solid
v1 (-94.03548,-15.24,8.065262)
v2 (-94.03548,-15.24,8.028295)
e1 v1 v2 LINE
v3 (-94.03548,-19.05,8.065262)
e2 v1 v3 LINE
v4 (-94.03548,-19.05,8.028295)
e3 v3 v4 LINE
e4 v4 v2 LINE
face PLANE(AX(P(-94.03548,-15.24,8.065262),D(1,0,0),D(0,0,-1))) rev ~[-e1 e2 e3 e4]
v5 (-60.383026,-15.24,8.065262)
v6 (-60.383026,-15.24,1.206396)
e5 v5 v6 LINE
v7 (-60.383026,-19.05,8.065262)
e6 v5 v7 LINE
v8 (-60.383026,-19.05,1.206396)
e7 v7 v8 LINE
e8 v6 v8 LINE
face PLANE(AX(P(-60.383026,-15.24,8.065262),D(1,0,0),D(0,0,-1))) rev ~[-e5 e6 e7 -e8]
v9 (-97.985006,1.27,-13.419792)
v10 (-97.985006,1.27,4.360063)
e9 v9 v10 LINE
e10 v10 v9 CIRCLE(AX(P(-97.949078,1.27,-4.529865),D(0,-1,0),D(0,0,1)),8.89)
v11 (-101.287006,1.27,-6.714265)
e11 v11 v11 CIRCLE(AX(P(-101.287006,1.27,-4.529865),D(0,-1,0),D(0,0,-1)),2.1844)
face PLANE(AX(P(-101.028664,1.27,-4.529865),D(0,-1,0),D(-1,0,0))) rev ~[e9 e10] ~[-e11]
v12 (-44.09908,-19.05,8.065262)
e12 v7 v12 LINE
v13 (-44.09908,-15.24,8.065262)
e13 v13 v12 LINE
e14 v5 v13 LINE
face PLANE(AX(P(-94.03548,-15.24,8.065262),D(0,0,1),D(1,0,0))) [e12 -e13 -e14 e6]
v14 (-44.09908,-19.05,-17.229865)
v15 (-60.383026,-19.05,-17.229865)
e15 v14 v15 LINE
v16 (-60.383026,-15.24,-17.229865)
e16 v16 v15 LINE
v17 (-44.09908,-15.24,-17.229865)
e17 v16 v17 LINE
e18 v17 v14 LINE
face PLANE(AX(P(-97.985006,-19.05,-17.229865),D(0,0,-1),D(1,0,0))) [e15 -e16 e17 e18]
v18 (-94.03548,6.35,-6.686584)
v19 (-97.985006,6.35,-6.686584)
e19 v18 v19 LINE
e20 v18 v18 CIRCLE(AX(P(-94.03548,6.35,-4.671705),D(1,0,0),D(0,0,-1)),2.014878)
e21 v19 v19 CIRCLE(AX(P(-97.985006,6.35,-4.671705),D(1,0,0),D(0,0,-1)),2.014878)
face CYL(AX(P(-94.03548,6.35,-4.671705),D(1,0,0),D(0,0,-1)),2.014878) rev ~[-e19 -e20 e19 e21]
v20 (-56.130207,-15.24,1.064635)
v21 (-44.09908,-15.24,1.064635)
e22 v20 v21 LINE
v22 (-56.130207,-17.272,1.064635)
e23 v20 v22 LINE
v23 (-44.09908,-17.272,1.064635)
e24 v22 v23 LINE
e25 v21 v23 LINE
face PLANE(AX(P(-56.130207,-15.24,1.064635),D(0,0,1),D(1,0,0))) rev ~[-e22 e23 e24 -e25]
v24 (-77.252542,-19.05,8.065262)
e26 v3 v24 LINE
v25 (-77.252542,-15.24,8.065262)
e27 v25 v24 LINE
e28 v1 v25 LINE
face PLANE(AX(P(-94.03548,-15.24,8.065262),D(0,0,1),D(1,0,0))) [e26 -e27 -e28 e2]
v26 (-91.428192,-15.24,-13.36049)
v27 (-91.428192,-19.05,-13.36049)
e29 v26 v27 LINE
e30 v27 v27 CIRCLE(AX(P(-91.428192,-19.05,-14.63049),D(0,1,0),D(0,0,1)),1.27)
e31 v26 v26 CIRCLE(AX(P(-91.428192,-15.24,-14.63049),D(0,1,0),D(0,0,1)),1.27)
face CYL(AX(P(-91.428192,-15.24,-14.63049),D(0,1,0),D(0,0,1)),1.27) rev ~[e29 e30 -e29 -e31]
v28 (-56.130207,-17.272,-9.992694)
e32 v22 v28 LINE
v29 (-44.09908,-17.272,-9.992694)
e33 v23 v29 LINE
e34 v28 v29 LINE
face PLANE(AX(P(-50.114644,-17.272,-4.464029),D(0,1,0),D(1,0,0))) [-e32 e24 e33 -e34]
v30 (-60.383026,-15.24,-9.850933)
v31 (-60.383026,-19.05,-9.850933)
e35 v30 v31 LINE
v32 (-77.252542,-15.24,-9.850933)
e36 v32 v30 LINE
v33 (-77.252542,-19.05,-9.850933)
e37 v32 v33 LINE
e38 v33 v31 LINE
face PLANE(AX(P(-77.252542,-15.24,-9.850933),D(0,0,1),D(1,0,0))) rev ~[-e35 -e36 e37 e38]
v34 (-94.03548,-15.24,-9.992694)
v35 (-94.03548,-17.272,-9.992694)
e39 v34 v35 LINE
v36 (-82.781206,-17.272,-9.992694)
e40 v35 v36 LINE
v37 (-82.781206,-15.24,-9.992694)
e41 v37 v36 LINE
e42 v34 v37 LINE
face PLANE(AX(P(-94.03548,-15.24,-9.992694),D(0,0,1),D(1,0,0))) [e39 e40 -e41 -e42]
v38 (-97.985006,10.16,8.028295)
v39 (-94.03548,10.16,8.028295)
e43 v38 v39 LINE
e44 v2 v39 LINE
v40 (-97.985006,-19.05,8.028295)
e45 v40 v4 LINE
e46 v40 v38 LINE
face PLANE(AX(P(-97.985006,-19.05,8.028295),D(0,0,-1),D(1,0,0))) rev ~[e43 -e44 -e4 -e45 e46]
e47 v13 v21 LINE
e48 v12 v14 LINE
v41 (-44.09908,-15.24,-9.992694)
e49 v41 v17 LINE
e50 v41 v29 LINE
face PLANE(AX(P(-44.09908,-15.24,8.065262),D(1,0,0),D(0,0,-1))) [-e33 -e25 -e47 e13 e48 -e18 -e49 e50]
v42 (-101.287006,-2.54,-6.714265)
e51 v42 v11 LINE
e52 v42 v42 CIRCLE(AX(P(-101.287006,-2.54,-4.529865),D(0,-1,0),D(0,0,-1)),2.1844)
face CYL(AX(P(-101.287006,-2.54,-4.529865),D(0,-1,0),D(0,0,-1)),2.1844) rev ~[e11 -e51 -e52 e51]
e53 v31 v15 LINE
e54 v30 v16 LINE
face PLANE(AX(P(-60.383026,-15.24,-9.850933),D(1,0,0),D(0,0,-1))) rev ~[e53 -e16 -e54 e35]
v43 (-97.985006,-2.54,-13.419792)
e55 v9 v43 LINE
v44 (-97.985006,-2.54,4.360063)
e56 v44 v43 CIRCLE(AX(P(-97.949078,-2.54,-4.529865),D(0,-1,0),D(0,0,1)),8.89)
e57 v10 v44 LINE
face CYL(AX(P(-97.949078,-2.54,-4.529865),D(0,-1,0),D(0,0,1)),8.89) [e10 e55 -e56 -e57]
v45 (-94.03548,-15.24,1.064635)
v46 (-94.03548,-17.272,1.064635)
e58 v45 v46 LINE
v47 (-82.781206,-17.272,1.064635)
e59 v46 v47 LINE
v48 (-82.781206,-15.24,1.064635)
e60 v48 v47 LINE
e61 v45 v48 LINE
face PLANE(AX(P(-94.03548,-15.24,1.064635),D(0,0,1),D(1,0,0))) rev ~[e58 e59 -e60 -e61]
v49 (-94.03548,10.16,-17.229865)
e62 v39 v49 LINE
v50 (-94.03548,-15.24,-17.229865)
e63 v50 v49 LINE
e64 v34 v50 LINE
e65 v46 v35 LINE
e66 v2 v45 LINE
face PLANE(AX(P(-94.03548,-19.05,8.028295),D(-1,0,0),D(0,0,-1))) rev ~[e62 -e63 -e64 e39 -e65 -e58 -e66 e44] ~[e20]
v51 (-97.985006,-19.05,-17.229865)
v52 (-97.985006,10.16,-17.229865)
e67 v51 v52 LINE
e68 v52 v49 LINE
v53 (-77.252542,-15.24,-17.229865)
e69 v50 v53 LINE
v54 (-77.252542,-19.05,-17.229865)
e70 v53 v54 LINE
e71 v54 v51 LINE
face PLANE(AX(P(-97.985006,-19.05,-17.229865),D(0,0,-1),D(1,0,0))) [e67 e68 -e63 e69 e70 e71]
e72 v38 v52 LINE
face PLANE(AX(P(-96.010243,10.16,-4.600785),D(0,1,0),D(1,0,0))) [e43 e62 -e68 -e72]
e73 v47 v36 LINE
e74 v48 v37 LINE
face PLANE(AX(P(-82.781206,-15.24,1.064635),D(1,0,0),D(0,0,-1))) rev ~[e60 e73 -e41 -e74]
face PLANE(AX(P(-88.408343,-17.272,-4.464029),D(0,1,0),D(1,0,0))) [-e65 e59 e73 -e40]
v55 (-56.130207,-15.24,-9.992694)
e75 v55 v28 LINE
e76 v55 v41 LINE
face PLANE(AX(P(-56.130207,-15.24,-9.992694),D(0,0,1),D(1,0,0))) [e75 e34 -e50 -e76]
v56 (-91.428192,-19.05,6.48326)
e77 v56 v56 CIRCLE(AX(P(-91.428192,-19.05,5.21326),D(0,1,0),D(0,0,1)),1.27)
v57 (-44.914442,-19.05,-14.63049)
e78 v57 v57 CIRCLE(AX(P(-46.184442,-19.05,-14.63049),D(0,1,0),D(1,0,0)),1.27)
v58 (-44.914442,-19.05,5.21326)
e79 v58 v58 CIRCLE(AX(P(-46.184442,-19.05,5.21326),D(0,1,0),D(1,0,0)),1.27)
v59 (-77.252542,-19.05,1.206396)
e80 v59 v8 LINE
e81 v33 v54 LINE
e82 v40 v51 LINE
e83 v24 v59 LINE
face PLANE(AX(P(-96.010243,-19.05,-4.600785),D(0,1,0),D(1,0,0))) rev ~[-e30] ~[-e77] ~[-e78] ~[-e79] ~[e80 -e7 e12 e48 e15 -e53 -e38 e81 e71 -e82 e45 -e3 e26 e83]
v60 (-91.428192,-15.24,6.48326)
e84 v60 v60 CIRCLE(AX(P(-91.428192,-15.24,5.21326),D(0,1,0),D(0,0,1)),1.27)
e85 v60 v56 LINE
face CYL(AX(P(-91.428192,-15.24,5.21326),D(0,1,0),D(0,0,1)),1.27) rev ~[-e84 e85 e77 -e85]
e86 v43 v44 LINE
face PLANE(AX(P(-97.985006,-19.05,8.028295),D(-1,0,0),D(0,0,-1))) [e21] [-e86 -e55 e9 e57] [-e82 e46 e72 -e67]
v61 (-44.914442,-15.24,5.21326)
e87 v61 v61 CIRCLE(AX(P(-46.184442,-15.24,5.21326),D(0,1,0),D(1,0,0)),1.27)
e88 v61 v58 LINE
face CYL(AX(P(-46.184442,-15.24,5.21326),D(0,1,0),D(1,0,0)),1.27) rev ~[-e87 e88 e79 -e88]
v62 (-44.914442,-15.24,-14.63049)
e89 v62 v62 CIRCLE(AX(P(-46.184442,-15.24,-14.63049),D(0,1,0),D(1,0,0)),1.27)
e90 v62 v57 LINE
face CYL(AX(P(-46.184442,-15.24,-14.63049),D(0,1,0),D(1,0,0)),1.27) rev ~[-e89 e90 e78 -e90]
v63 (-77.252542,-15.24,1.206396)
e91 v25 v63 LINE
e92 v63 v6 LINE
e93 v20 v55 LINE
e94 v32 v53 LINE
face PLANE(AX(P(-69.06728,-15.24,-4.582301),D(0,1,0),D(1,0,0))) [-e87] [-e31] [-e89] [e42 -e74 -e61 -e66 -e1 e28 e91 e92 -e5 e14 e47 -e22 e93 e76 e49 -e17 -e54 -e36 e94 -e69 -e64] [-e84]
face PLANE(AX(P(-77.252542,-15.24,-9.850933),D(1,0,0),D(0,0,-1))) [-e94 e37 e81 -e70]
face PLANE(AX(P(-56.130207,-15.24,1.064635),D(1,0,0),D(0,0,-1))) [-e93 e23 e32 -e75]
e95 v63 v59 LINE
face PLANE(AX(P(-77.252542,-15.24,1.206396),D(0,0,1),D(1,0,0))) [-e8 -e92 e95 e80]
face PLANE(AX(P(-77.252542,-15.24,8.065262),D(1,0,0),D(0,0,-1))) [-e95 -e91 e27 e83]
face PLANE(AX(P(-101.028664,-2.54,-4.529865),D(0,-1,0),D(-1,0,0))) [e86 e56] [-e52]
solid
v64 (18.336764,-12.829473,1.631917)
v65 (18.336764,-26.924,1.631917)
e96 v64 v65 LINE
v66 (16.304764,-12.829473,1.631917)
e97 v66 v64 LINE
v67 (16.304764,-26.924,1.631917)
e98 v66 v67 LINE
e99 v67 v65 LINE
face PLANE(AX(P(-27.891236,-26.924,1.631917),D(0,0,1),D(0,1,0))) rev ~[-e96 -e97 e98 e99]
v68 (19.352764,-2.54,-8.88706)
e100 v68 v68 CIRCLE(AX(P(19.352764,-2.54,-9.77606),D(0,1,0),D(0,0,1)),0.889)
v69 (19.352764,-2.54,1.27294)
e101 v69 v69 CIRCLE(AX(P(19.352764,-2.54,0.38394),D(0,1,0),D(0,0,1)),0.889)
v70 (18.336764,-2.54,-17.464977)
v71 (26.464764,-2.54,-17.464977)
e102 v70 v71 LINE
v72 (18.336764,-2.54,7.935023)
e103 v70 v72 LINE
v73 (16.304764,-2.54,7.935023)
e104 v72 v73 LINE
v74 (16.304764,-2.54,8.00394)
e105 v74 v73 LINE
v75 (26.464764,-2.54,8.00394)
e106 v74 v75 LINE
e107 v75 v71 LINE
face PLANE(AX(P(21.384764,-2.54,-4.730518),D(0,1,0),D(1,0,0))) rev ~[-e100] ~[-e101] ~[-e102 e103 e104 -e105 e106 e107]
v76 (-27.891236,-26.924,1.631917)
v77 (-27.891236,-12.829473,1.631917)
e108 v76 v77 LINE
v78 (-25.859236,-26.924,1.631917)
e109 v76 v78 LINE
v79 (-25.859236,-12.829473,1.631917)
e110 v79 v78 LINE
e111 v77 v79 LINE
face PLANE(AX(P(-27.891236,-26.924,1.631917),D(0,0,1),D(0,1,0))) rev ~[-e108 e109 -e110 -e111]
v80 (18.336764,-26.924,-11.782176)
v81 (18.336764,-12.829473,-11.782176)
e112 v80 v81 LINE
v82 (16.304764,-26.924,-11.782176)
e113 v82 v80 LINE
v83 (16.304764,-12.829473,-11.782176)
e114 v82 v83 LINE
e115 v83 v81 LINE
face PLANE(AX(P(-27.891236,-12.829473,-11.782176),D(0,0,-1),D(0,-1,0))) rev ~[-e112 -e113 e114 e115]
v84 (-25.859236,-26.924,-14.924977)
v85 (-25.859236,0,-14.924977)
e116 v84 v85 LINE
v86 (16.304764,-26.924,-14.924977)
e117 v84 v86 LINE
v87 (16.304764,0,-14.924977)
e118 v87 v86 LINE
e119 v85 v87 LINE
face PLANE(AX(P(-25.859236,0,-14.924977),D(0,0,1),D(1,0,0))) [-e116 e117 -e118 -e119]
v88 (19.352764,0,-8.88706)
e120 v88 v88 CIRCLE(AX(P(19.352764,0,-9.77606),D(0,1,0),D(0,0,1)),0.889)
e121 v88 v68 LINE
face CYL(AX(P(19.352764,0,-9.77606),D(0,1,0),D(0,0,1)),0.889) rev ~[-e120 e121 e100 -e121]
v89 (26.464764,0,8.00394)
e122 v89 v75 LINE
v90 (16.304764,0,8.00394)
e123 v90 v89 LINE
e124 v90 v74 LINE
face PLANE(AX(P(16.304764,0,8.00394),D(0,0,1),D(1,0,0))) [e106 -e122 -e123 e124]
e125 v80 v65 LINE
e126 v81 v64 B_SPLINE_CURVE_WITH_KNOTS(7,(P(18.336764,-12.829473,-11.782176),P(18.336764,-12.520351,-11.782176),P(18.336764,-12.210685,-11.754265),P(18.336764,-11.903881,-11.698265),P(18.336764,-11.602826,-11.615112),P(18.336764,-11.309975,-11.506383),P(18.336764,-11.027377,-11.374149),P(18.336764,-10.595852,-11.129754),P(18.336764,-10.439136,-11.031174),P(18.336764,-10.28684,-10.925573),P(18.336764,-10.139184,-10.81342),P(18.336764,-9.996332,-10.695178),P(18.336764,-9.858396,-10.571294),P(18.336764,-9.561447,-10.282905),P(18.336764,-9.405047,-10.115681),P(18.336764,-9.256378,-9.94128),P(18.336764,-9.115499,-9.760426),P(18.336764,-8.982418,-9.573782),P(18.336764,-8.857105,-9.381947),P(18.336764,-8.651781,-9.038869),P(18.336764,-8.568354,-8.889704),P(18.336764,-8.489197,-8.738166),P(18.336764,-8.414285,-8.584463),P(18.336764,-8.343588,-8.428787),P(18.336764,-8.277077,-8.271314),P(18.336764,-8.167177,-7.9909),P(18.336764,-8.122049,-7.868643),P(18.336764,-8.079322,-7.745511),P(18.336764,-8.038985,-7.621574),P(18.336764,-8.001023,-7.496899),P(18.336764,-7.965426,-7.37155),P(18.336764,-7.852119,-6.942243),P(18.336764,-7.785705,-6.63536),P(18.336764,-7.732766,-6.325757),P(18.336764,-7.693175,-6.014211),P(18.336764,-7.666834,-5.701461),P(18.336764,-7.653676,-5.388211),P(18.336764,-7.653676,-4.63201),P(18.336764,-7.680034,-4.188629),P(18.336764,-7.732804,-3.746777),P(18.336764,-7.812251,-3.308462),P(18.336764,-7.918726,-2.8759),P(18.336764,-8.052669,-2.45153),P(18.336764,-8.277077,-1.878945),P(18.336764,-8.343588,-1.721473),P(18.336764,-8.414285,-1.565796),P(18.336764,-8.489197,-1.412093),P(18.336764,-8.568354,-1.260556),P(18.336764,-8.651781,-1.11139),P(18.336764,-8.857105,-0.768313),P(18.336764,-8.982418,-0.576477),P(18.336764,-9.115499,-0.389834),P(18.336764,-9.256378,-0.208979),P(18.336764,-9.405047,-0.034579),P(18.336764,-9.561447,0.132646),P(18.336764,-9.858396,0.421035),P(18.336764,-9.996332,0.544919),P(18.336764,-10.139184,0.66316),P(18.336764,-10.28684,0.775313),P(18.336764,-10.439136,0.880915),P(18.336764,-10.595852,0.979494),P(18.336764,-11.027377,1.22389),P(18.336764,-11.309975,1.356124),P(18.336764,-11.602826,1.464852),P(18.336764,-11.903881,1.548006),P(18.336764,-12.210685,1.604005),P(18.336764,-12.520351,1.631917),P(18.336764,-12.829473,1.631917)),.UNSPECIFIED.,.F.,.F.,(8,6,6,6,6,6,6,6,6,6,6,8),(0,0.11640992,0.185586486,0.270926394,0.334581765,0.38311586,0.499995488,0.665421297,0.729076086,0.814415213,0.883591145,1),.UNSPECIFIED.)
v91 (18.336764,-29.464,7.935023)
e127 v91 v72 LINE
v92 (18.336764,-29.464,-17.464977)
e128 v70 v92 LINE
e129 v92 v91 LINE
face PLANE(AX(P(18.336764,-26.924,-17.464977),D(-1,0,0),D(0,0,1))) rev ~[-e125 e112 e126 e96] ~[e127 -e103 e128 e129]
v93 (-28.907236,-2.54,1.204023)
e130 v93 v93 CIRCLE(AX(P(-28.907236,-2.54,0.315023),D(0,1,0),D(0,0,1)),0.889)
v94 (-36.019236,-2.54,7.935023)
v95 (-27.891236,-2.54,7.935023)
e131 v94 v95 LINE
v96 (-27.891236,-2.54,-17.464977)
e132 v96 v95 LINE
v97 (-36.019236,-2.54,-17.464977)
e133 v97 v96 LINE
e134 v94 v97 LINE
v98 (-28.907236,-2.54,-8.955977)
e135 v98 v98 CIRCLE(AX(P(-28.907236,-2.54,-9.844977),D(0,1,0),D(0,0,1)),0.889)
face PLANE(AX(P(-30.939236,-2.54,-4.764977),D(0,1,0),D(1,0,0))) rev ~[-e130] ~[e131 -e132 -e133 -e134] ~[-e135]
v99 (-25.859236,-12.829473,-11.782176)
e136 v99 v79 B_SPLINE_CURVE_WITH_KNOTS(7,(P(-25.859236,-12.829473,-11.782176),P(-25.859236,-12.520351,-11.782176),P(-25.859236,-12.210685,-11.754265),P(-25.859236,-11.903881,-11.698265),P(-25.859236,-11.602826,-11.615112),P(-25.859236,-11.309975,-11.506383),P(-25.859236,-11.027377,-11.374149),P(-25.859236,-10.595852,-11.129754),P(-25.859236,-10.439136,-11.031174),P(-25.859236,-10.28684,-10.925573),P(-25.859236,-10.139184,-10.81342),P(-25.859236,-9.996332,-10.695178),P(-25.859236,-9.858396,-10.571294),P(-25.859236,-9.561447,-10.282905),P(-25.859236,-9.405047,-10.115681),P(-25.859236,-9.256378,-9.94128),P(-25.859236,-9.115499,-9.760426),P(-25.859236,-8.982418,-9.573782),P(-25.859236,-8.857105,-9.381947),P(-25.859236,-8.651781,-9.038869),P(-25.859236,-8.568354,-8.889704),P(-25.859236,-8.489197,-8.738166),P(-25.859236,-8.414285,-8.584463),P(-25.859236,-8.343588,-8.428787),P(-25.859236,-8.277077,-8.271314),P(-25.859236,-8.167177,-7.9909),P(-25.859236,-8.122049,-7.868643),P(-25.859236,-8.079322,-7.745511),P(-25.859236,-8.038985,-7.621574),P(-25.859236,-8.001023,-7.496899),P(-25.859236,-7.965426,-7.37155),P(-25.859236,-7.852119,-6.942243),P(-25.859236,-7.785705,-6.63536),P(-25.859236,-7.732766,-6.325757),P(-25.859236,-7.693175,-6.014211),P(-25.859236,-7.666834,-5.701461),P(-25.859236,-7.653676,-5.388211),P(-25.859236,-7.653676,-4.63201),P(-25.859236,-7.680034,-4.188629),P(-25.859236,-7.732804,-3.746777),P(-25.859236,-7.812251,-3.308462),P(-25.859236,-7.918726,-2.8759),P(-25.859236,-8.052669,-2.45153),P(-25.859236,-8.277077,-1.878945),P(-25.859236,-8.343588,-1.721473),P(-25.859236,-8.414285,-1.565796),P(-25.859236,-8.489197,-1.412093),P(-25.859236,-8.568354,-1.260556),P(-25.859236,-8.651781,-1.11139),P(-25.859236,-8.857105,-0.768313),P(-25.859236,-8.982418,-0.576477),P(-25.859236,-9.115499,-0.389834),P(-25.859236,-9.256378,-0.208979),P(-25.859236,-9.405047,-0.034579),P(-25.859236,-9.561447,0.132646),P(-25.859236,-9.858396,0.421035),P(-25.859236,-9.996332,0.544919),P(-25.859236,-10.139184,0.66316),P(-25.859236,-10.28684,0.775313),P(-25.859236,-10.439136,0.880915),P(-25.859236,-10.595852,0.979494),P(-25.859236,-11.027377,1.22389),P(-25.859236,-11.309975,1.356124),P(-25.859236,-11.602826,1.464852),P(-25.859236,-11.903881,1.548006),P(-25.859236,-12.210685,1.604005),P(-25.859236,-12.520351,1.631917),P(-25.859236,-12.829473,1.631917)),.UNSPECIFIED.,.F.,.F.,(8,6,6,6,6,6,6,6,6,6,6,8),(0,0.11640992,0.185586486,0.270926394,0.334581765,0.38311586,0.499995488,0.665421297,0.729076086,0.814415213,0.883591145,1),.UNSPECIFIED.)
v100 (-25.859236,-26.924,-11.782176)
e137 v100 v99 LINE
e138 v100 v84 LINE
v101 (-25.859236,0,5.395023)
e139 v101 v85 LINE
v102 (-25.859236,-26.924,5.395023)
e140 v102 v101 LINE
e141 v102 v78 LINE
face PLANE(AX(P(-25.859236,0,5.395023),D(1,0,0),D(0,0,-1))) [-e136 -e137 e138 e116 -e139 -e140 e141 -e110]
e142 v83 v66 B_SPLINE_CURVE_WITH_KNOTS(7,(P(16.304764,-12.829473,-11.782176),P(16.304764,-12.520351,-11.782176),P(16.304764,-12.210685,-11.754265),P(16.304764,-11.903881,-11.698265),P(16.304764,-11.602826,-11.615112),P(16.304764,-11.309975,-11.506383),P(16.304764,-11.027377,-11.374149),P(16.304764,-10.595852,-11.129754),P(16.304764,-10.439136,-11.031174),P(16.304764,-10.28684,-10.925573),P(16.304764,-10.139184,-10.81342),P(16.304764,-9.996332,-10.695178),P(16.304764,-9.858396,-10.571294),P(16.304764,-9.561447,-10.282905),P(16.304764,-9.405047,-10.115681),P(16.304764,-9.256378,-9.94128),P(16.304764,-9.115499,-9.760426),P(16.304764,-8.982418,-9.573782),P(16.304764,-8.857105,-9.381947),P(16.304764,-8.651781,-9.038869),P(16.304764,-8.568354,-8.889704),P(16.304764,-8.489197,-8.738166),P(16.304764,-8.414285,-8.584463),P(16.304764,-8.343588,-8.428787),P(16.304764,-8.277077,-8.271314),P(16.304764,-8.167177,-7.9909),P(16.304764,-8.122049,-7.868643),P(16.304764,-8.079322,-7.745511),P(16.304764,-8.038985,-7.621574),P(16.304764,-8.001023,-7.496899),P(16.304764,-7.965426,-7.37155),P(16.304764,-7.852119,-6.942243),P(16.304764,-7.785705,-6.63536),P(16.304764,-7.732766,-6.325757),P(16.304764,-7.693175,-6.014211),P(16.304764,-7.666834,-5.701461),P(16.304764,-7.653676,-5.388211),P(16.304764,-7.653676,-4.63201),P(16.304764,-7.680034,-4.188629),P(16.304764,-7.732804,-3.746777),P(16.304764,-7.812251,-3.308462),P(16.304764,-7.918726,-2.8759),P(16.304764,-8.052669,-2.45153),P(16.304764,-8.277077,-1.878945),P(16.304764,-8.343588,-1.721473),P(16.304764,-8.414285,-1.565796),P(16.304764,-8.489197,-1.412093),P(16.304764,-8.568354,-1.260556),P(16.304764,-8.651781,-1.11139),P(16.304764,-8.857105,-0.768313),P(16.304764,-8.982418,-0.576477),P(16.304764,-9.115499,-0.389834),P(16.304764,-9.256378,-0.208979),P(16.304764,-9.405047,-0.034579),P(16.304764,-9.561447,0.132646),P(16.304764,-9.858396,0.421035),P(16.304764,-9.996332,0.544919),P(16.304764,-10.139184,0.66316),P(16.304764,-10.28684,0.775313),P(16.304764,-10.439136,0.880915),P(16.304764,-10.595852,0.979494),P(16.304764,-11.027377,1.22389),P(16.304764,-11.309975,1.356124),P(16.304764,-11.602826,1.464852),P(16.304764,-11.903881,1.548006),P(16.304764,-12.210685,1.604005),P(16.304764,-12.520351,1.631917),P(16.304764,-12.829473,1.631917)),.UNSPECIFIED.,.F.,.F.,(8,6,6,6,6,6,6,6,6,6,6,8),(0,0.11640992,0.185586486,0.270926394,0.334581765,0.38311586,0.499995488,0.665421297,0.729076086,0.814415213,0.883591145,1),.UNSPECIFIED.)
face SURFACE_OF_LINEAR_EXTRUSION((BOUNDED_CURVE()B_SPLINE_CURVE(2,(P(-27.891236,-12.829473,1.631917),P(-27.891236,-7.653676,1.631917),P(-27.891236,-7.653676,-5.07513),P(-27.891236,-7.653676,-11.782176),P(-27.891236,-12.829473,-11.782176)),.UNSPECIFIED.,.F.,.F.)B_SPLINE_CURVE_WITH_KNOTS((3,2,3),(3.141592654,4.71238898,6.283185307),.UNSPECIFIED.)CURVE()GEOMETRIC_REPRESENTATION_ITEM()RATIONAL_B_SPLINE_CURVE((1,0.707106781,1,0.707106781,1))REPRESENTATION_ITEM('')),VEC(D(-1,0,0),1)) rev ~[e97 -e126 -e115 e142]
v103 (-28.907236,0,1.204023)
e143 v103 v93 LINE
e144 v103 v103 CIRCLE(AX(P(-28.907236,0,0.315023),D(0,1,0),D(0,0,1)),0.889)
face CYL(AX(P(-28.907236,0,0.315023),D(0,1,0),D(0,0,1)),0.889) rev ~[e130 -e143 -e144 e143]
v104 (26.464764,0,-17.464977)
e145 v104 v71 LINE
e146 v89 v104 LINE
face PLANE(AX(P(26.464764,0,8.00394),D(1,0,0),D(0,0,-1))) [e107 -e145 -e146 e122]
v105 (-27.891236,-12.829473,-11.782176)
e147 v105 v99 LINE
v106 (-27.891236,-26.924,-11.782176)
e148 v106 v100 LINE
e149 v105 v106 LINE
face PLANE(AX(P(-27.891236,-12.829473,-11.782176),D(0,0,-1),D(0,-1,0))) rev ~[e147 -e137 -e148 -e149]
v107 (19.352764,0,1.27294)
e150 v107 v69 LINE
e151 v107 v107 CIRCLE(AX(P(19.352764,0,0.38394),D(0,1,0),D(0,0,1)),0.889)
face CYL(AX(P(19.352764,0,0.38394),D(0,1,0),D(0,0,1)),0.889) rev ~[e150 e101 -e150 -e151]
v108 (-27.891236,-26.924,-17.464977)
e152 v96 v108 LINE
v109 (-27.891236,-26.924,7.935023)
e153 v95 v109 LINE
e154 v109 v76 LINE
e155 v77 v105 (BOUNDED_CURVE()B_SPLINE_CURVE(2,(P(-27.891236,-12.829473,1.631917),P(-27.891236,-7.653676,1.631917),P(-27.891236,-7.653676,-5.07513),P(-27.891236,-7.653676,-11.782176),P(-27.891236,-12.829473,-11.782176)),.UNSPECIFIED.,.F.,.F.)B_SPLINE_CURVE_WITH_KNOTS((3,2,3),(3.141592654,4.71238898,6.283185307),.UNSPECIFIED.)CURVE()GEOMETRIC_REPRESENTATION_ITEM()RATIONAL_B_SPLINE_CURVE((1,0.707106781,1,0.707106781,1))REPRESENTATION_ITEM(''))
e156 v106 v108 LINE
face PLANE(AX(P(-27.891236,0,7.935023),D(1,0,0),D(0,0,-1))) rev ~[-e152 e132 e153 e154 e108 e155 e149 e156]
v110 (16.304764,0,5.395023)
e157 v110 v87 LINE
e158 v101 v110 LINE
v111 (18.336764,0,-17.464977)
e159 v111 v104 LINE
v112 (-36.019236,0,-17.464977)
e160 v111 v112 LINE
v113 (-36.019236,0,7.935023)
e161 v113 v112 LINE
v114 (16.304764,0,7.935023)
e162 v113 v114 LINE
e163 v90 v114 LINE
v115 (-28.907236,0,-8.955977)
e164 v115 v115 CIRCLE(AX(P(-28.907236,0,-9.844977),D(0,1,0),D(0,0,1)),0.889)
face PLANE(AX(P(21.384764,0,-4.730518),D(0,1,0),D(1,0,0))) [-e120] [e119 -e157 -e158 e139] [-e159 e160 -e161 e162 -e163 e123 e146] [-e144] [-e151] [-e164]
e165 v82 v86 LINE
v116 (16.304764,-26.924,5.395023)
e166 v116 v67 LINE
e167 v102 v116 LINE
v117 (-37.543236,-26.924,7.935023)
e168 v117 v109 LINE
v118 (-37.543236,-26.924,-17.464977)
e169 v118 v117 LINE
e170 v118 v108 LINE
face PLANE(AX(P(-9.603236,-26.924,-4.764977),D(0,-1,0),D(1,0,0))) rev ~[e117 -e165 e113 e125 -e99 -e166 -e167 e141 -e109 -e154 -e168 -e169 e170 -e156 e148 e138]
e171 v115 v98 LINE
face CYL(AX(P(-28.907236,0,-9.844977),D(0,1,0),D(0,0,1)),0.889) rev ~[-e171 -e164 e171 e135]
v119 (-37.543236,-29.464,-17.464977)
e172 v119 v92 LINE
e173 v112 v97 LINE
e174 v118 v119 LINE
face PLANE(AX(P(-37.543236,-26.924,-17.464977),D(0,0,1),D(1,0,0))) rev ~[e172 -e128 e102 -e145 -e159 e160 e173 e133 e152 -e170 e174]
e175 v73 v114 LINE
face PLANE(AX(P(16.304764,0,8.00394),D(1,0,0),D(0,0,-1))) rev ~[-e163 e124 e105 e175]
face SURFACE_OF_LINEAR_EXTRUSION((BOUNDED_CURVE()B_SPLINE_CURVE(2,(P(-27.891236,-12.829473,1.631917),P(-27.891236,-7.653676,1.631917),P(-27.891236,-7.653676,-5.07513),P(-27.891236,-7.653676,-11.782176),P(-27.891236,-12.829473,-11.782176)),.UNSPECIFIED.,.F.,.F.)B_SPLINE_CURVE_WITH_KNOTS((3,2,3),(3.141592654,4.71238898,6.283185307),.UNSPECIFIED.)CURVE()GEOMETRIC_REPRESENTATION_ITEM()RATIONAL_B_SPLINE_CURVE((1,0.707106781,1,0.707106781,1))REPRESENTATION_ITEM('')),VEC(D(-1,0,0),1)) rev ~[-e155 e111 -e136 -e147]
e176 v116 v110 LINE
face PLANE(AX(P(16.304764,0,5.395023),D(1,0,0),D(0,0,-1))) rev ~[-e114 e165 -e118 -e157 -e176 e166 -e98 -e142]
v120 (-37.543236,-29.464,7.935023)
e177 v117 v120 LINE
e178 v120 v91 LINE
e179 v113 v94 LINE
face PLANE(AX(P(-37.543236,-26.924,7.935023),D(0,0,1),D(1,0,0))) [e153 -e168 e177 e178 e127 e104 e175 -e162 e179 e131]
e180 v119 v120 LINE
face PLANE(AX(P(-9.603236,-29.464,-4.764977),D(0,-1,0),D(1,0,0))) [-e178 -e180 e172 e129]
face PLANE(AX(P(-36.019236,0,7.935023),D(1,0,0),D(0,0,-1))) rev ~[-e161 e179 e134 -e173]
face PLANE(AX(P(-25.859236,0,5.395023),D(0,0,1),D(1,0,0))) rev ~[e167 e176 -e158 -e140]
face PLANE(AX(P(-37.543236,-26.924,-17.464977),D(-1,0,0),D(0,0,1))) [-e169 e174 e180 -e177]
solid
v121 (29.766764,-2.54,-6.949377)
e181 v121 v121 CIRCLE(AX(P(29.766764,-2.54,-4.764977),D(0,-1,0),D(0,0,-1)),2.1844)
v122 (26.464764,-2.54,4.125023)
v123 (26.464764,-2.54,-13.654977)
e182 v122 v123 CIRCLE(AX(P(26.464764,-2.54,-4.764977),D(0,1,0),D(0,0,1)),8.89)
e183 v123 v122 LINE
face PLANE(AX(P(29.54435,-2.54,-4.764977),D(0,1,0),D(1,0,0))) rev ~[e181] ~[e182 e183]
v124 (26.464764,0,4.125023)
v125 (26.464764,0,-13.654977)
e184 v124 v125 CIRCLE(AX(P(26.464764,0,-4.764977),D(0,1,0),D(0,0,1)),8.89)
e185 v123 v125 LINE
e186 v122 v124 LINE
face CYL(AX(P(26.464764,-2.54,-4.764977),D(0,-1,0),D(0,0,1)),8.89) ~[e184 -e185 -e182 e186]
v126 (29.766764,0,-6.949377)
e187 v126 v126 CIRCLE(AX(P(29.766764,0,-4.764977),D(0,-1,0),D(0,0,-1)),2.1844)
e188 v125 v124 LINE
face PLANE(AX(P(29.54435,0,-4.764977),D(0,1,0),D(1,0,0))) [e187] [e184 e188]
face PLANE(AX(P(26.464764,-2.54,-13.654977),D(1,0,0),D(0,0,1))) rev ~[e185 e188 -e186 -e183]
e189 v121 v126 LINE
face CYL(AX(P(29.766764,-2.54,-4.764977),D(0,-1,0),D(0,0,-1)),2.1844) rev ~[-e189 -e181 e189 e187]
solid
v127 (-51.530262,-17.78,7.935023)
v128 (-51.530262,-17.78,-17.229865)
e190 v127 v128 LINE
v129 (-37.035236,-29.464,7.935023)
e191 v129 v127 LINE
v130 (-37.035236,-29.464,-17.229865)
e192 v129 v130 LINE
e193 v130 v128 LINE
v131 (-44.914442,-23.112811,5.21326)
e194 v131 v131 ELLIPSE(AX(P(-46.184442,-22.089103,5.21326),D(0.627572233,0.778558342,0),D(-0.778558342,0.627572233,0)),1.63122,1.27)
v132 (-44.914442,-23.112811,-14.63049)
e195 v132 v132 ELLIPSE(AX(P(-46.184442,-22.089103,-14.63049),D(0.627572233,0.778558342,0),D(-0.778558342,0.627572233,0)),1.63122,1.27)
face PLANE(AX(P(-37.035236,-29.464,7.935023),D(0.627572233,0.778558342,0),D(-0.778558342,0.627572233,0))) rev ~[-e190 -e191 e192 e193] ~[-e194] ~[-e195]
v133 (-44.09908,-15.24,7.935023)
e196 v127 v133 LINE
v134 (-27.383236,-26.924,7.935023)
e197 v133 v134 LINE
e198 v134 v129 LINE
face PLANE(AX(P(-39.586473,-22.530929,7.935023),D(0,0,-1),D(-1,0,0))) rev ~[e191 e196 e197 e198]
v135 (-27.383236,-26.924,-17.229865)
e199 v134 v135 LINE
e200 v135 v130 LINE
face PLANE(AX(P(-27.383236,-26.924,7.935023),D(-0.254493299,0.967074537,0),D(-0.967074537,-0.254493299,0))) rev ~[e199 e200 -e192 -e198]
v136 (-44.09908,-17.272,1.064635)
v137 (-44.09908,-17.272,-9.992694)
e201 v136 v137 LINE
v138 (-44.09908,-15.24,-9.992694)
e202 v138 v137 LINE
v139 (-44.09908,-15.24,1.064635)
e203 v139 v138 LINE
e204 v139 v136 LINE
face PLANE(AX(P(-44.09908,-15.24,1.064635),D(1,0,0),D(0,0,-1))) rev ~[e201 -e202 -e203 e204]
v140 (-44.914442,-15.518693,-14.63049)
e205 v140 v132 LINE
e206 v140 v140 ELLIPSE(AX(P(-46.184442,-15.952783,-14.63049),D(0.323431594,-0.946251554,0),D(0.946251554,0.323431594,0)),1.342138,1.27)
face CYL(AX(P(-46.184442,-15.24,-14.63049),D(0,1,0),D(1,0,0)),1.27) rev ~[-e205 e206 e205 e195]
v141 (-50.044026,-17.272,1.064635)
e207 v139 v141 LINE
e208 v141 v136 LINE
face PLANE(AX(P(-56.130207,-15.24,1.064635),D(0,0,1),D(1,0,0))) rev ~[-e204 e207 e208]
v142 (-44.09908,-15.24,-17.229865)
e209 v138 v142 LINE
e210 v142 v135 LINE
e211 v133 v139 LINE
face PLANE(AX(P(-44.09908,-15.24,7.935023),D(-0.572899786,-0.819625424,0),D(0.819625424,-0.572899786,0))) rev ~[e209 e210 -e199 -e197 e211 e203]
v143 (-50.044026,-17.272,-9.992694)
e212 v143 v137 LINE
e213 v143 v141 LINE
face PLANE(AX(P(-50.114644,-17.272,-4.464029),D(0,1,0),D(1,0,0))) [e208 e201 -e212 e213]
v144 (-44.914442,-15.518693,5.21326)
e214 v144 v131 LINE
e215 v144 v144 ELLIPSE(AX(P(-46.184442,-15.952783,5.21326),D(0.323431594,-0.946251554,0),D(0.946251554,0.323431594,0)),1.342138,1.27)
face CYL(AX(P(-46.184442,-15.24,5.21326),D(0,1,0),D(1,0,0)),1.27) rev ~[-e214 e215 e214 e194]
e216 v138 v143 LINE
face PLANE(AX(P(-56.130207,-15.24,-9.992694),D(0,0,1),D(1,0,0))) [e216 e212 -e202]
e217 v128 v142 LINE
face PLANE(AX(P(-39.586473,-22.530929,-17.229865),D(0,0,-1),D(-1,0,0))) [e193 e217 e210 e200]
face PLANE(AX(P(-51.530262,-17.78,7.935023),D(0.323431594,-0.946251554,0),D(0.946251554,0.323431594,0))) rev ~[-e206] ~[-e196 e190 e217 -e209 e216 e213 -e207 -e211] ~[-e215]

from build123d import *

# Parameters (mm, degrees)
SKETCH2_W                = 46.228
SKETCH2_H                = 25.4
SKETCH2_W_2              = 42.164
SKETCH2_H_2              = 20.32
BOSS_EXTRUDE1_DEPTH      = 26.924
CUT_EXTRUDE2_DEPTH       = 57.27570692
SKETCH7_W                = 10.16
SKETCH7_H                = 25.468917493
SKETCH7_R                = 0.889
SKETCH7_H_2              = 25.4
BOSS_EXTRUDE2_DEPTH      = 2.54
SKETCH8_W                = 55.88
SKETCH8_H                = 25.4
BOSS_EXTRUDE3_DEPTH      = 2.54
SKETCH9_W                = 49.9364
SKETCH9_H                = 25.295126645
BOSS_EXTRUDE4_DEPTH      = 3.81
BOSS_EXTRUDE6_DEPTH      = 25.164887468
SKETCH13_R               = 1.27
SKETCH13_R_2             = 1.269999999
CUT_EXTRUDE3_DEPTH       = 97.850165524
BOSS_EXTRUDE7_DEPTH      = 25.4
BOSS_EXTRUDE7_DEPTH_BACK = 3.81
SKETCH14_W               = 3.949525569
SKETCH14_H               = 25.258159439
SKETCH15_R               = 2.014878308
CUT_EXTRUDE4_DEPTH       = 25.4
SKETCH16_W               = 16.869515363
SKETCH16_H               = 7.378931384
SKETCH16_H_2             = 6.858865863
CUT_EXTRUDE5_DEPTH       = 25.4
SKETCH17_W               = 12.031127212
SKETCH17_H               = 11.057329398
SKETCH17_W_2             = 11.254273727
CUT_EXTRUDE6_DEPTH       = 2.032
SKETCH18_R               = 2.1844
BOSS_EXTRUDE8_DEPTH      = 3.81
SKETCH19_R               = 2.1844
BOSS_EXTRUDE9_DEPTH      = 2.54


with BuildPart() as part:
    # Sketch2 → Boss-Extrude1 (new body)
    with BuildSketch(Plane(origin=(0, 0, 0), x_dir=(1, 0, 0), z_dir=(0, 1, 0))):
        with Locations((-4.777236152, 4.764977222)):
            Rectangle(SKETCH2_W, SKETCH2_H)
        with Locations((-4.777236152, 4.764977222)):
            Rectangle(SKETCH2_W_2, SKETCH2_H_2, mode=Mode.SUBTRACT)
    extrude(amount=-BOSS_EXTRUDE1_DEPTH)

    # Sketch6 → Cut-Extrude2 (cut, through all)
    with BuildSketch(Plane.ZY.offset(27.891236152)):
        with BuildLine():
            Line((-11.782176259, -26.924), (1.631916928, -26.924))
            Line((1.631916928, -26.924), (1.631916928, -12.829472687))
            add(Edge.make_bspline(
                [(1.631916928, -12.829472687), (1.631916928, -7.653676396), (-5.075129666, -7.653676396), (-11.782176259, -7.653676396), (-11.782176259, -12.829472687)],
                knots=[3.141592654, 3.141592654, 3.141592654, 4.71238898, 4.71238898, 6.283185307, 6.283185307, 6.283185307], degree=2, weights=[1, 0.707106781, 1, 0.707106781, 1]))
            Line((-11.782176259, -12.829472687), (-11.782176259, -26.924))
        make_face()
    extrude(amount=-CUT_EXTRUDE2_DEPTH, mode=Mode.SUBTRACT)

    # Sketch7 → Boss-Extrude2 (add)
    # profile 1 of 2: a face of its own
    with BuildSketch(Plane(origin=(0, 0, 0), x_dir=(1, 0, 0), z_dir=(0, 1, 0))):
        with Locations((21.384763848, 4.730518476)):
            Rectangle(SKETCH7_W, SKETCH7_H)
        with Locations(Location((19.352763848, 9.776059729, 0), (0, 0, 270))):
            Circle(SKETCH7_R, mode=Mode.SUBTRACT)
        with Locations(Location((19.352763848, -0.383940271, 0), (0, 0, 270))):
            Circle(SKETCH7_R, mode=Mode.SUBTRACT)
    # profile 2 of 2: a face of its own
    with BuildSketch(Plane(origin=(0, 0, 0), x_dir=(1, 0, 0), z_dir=(0, 1, 0))):
        with Locations((-30.939236152, 4.764977222)):
            Rectangle(SKETCH7_W, SKETCH7_H_2)
        with Locations(Location((-28.907236152, -0.315022778, 0), (0, 0, 270))):
            Circle(SKETCH7_R, mode=Mode.SUBTRACT)
        with Locations(Location((-28.907236152, 9.844977222, 0), (0, 0, 270))):
            Circle(SKETCH7_R, mode=Mode.SUBTRACT)
    extrude(amount=-BOSS_EXTRUDE2_DEPTH)

    # Sketch8 → Boss-Extrude3 (add)
    with BuildSketch(Plane.XZ.offset(26.924)):
        with Locations((-9.603236152, -4.764977222)):
            Rectangle(SKETCH8_W, SKETCH8_H)
    extrude(amount=BOSS_EXTRUDE3_DEPTH)


with BuildPart() as body_2:
    # Sketch9 → Boss-Extrude4 (new body)
    with BuildSketch(Plane(origin=(0, -15.24, 0), x_dir=(1, 0, 0), z_dir=(0, 1, 0))):
        with Locations((-69.067280145, 4.582301368)):
            Rectangle(SKETCH9_W, SKETCH9_H)
    extrude(amount=-BOSS_EXTRUDE4_DEPTH)


with BuildPart() as body_3:
    # Sketch11 → Boss-Extrude6 (new body)
    with BuildSketch(Plane.XY.offset(7.935022778)):
        Polygon((-44.099080145, -15.24), (-27.383236152, -26.924), (-37.035236152, -29.464), (-51.530261874, -17.78), align=None)
    extrude(amount=-BOSS_EXTRUDE6_DEPTH)


with BuildPart() as cut_extrude3_tool:
    # Sketch13 → Cut-Extrude3 (new, through all)
    with BuildSketch(Plane(origin=(0, -15.24, 0), x_dir=(1, 0, 0), z_dir=(0, 1, 0))):
        with Locations(Location((-91.428192435, 14.630489934, 0), (0, 0, 270))):
            Circle(SKETCH13_R)
        with Locations((-46.184442435, -5.213260066)):
            Circle(SKETCH13_R)
        with Locations((-46.184442435, 14.630489934)):
            Circle(SKETCH13_R_2)
        with Locations(Location((-91.428192435, -5.213260066, 0), (0, 0, 270))):
            Circle(SKETCH13_R)
    extrude(amount=-CUT_EXTRUDE3_DEPTH)


with BuildPart() as body_2_1:
    add(body_2.part)

    # Cut-Extrude3: cut by cut_extrude3_tool
    add(cut_extrude3_tool.part, mode=Mode.SUBTRACT)

    # Sketch14 → Boss-Extrude7 (add, two sides: drawn at the far end of the back side and taken through both)
    with BuildSketch(Plane(origin=(0, -15.24, 0), x_dir=(1, 0, 0), z_dir=(0, 1, 0)).offset(-BOSS_EXTRUDE7_DEPTH_BACK)):
        with Locations((-96.01024293, 4.600784971)):
            Rectangle(SKETCH14_W, SKETCH14_H)
    extrude(amount=BOSS_EXTRUDE7_DEPTH + BOSS_EXTRUDE7_DEPTH_BACK)

    # Sketch15 → Cut-Extrude4 (cut)
    with BuildSketch(Plane(origin=(-94.035480145, 0, 0), x_dir=(0, 0, -1), z_dir=(1, 0, 0))):
        with Locations((4.671705252, 6.35)):
            Circle(SKETCH15_R)
    extrude(amount=-CUT_EXTRUDE4_DEPTH, mode=Mode.SUBTRACT)

    # Sketch16 → Cut-Extrude5 (cut)
    with BuildSketch(Plane(origin=(0, -15.24, 0), x_dir=(1, 0, 0), z_dir=(0, 1, 0))):
        with Locations((-68.817784038, 13.540398999)):
            Rectangle(SKETCH16_W, SKETCH16_H)
        with Locations((-68.817784038, -4.635829023)):
            Rectangle(SKETCH16_W, SKETCH16_H_2)
    extrude(amount=-CUT_EXTRUDE5_DEPTH, mode=Mode.SUBTRACT)


with BuildPart() as body_3_1:
    add(body_3.part)

    # Cut-Extrude3: cut by cut_extrude3_tool
    add(cut_extrude3_tool.part, mode=Mode.SUBTRACT)


with BuildPart() as cut_extrude6_tool:
    # Sketch17 → Cut-Extrude6 (new body)
    with BuildSketch(Plane(origin=(0, -15.24, 0), x_dir=(1, 0, 0), z_dir=(0, 1, 0))):
        with Locations((-50.114643751, 4.464029241)):
            Rectangle(SKETCH17_W, SKETCH17_H)
        with Locations((-88.408343282, 4.464029241)):
            Rectangle(SKETCH17_W_2, SKETCH17_H)
    extrude(amount=-CUT_EXTRUDE6_DEPTH)


with BuildPart() as body_2_2:
    add(body_2_1.part)

    # Cut-Extrude6: cut by cut_extrude6_tool
    add(cut_extrude6_tool.part, mode=Mode.SUBTRACT)

    # Sketch18 → Boss-Extrude8 (add)
    with BuildSketch(Plane(origin=(0, -2.54, 0), x_dir=(-1, 0, 0), z_dir=(0, -1, 0))):
        with BuildLine():
            Line((97.949078108, 13.419864691), (97.949078108, -4.360135309))
            ThreePointArc((97.949078108, -4.360135309), (106.839078108, 4.529864691), (97.949078108, 13.419864691))
        make_face()
        with Locations(Location((101.287005714, 4.529864691, 0), (0, 0, 90))):
            Circle(SKETCH18_R, mode=Mode.SUBTRACT)
    extrude(amount=-BOSS_EXTRUDE8_DEPTH)


with BuildPart() as body_3_2:
    add(body_3_1.part)

    # Cut-Extrude6: cut by cut_extrude6_tool
    add(cut_extrude6_tool.part, mode=Mode.SUBTRACT)


with BuildPart() as body_4:
    # Sketch19 → Boss-Extrude9 (new body)
    with BuildSketch(Plane(origin=(0, -2.54, 0), x_dir=(-1, 0, 0), z_dir=(0, -1, 0))):
        with BuildLine():
            Line((-26.464763848, 13.654977222), (-26.464763848, -4.125022778))
            ThreePointArc((-26.464763848, -4.125022778), (-35.354763848, 4.764977222), (-26.464763848, 13.654977222))
        make_face()
        with Locations(Location((-29.766763848, 4.764977222, 0), (0, 0, 90))):
            Circle(SKETCH19_R, mode=Mode.SUBTRACT)
    extrude(amount=-BOSS_EXTRUDE9_DEPTH)


solid = Compound([part.part, body_2_2.part, body_3_2.part, body_4.part])
